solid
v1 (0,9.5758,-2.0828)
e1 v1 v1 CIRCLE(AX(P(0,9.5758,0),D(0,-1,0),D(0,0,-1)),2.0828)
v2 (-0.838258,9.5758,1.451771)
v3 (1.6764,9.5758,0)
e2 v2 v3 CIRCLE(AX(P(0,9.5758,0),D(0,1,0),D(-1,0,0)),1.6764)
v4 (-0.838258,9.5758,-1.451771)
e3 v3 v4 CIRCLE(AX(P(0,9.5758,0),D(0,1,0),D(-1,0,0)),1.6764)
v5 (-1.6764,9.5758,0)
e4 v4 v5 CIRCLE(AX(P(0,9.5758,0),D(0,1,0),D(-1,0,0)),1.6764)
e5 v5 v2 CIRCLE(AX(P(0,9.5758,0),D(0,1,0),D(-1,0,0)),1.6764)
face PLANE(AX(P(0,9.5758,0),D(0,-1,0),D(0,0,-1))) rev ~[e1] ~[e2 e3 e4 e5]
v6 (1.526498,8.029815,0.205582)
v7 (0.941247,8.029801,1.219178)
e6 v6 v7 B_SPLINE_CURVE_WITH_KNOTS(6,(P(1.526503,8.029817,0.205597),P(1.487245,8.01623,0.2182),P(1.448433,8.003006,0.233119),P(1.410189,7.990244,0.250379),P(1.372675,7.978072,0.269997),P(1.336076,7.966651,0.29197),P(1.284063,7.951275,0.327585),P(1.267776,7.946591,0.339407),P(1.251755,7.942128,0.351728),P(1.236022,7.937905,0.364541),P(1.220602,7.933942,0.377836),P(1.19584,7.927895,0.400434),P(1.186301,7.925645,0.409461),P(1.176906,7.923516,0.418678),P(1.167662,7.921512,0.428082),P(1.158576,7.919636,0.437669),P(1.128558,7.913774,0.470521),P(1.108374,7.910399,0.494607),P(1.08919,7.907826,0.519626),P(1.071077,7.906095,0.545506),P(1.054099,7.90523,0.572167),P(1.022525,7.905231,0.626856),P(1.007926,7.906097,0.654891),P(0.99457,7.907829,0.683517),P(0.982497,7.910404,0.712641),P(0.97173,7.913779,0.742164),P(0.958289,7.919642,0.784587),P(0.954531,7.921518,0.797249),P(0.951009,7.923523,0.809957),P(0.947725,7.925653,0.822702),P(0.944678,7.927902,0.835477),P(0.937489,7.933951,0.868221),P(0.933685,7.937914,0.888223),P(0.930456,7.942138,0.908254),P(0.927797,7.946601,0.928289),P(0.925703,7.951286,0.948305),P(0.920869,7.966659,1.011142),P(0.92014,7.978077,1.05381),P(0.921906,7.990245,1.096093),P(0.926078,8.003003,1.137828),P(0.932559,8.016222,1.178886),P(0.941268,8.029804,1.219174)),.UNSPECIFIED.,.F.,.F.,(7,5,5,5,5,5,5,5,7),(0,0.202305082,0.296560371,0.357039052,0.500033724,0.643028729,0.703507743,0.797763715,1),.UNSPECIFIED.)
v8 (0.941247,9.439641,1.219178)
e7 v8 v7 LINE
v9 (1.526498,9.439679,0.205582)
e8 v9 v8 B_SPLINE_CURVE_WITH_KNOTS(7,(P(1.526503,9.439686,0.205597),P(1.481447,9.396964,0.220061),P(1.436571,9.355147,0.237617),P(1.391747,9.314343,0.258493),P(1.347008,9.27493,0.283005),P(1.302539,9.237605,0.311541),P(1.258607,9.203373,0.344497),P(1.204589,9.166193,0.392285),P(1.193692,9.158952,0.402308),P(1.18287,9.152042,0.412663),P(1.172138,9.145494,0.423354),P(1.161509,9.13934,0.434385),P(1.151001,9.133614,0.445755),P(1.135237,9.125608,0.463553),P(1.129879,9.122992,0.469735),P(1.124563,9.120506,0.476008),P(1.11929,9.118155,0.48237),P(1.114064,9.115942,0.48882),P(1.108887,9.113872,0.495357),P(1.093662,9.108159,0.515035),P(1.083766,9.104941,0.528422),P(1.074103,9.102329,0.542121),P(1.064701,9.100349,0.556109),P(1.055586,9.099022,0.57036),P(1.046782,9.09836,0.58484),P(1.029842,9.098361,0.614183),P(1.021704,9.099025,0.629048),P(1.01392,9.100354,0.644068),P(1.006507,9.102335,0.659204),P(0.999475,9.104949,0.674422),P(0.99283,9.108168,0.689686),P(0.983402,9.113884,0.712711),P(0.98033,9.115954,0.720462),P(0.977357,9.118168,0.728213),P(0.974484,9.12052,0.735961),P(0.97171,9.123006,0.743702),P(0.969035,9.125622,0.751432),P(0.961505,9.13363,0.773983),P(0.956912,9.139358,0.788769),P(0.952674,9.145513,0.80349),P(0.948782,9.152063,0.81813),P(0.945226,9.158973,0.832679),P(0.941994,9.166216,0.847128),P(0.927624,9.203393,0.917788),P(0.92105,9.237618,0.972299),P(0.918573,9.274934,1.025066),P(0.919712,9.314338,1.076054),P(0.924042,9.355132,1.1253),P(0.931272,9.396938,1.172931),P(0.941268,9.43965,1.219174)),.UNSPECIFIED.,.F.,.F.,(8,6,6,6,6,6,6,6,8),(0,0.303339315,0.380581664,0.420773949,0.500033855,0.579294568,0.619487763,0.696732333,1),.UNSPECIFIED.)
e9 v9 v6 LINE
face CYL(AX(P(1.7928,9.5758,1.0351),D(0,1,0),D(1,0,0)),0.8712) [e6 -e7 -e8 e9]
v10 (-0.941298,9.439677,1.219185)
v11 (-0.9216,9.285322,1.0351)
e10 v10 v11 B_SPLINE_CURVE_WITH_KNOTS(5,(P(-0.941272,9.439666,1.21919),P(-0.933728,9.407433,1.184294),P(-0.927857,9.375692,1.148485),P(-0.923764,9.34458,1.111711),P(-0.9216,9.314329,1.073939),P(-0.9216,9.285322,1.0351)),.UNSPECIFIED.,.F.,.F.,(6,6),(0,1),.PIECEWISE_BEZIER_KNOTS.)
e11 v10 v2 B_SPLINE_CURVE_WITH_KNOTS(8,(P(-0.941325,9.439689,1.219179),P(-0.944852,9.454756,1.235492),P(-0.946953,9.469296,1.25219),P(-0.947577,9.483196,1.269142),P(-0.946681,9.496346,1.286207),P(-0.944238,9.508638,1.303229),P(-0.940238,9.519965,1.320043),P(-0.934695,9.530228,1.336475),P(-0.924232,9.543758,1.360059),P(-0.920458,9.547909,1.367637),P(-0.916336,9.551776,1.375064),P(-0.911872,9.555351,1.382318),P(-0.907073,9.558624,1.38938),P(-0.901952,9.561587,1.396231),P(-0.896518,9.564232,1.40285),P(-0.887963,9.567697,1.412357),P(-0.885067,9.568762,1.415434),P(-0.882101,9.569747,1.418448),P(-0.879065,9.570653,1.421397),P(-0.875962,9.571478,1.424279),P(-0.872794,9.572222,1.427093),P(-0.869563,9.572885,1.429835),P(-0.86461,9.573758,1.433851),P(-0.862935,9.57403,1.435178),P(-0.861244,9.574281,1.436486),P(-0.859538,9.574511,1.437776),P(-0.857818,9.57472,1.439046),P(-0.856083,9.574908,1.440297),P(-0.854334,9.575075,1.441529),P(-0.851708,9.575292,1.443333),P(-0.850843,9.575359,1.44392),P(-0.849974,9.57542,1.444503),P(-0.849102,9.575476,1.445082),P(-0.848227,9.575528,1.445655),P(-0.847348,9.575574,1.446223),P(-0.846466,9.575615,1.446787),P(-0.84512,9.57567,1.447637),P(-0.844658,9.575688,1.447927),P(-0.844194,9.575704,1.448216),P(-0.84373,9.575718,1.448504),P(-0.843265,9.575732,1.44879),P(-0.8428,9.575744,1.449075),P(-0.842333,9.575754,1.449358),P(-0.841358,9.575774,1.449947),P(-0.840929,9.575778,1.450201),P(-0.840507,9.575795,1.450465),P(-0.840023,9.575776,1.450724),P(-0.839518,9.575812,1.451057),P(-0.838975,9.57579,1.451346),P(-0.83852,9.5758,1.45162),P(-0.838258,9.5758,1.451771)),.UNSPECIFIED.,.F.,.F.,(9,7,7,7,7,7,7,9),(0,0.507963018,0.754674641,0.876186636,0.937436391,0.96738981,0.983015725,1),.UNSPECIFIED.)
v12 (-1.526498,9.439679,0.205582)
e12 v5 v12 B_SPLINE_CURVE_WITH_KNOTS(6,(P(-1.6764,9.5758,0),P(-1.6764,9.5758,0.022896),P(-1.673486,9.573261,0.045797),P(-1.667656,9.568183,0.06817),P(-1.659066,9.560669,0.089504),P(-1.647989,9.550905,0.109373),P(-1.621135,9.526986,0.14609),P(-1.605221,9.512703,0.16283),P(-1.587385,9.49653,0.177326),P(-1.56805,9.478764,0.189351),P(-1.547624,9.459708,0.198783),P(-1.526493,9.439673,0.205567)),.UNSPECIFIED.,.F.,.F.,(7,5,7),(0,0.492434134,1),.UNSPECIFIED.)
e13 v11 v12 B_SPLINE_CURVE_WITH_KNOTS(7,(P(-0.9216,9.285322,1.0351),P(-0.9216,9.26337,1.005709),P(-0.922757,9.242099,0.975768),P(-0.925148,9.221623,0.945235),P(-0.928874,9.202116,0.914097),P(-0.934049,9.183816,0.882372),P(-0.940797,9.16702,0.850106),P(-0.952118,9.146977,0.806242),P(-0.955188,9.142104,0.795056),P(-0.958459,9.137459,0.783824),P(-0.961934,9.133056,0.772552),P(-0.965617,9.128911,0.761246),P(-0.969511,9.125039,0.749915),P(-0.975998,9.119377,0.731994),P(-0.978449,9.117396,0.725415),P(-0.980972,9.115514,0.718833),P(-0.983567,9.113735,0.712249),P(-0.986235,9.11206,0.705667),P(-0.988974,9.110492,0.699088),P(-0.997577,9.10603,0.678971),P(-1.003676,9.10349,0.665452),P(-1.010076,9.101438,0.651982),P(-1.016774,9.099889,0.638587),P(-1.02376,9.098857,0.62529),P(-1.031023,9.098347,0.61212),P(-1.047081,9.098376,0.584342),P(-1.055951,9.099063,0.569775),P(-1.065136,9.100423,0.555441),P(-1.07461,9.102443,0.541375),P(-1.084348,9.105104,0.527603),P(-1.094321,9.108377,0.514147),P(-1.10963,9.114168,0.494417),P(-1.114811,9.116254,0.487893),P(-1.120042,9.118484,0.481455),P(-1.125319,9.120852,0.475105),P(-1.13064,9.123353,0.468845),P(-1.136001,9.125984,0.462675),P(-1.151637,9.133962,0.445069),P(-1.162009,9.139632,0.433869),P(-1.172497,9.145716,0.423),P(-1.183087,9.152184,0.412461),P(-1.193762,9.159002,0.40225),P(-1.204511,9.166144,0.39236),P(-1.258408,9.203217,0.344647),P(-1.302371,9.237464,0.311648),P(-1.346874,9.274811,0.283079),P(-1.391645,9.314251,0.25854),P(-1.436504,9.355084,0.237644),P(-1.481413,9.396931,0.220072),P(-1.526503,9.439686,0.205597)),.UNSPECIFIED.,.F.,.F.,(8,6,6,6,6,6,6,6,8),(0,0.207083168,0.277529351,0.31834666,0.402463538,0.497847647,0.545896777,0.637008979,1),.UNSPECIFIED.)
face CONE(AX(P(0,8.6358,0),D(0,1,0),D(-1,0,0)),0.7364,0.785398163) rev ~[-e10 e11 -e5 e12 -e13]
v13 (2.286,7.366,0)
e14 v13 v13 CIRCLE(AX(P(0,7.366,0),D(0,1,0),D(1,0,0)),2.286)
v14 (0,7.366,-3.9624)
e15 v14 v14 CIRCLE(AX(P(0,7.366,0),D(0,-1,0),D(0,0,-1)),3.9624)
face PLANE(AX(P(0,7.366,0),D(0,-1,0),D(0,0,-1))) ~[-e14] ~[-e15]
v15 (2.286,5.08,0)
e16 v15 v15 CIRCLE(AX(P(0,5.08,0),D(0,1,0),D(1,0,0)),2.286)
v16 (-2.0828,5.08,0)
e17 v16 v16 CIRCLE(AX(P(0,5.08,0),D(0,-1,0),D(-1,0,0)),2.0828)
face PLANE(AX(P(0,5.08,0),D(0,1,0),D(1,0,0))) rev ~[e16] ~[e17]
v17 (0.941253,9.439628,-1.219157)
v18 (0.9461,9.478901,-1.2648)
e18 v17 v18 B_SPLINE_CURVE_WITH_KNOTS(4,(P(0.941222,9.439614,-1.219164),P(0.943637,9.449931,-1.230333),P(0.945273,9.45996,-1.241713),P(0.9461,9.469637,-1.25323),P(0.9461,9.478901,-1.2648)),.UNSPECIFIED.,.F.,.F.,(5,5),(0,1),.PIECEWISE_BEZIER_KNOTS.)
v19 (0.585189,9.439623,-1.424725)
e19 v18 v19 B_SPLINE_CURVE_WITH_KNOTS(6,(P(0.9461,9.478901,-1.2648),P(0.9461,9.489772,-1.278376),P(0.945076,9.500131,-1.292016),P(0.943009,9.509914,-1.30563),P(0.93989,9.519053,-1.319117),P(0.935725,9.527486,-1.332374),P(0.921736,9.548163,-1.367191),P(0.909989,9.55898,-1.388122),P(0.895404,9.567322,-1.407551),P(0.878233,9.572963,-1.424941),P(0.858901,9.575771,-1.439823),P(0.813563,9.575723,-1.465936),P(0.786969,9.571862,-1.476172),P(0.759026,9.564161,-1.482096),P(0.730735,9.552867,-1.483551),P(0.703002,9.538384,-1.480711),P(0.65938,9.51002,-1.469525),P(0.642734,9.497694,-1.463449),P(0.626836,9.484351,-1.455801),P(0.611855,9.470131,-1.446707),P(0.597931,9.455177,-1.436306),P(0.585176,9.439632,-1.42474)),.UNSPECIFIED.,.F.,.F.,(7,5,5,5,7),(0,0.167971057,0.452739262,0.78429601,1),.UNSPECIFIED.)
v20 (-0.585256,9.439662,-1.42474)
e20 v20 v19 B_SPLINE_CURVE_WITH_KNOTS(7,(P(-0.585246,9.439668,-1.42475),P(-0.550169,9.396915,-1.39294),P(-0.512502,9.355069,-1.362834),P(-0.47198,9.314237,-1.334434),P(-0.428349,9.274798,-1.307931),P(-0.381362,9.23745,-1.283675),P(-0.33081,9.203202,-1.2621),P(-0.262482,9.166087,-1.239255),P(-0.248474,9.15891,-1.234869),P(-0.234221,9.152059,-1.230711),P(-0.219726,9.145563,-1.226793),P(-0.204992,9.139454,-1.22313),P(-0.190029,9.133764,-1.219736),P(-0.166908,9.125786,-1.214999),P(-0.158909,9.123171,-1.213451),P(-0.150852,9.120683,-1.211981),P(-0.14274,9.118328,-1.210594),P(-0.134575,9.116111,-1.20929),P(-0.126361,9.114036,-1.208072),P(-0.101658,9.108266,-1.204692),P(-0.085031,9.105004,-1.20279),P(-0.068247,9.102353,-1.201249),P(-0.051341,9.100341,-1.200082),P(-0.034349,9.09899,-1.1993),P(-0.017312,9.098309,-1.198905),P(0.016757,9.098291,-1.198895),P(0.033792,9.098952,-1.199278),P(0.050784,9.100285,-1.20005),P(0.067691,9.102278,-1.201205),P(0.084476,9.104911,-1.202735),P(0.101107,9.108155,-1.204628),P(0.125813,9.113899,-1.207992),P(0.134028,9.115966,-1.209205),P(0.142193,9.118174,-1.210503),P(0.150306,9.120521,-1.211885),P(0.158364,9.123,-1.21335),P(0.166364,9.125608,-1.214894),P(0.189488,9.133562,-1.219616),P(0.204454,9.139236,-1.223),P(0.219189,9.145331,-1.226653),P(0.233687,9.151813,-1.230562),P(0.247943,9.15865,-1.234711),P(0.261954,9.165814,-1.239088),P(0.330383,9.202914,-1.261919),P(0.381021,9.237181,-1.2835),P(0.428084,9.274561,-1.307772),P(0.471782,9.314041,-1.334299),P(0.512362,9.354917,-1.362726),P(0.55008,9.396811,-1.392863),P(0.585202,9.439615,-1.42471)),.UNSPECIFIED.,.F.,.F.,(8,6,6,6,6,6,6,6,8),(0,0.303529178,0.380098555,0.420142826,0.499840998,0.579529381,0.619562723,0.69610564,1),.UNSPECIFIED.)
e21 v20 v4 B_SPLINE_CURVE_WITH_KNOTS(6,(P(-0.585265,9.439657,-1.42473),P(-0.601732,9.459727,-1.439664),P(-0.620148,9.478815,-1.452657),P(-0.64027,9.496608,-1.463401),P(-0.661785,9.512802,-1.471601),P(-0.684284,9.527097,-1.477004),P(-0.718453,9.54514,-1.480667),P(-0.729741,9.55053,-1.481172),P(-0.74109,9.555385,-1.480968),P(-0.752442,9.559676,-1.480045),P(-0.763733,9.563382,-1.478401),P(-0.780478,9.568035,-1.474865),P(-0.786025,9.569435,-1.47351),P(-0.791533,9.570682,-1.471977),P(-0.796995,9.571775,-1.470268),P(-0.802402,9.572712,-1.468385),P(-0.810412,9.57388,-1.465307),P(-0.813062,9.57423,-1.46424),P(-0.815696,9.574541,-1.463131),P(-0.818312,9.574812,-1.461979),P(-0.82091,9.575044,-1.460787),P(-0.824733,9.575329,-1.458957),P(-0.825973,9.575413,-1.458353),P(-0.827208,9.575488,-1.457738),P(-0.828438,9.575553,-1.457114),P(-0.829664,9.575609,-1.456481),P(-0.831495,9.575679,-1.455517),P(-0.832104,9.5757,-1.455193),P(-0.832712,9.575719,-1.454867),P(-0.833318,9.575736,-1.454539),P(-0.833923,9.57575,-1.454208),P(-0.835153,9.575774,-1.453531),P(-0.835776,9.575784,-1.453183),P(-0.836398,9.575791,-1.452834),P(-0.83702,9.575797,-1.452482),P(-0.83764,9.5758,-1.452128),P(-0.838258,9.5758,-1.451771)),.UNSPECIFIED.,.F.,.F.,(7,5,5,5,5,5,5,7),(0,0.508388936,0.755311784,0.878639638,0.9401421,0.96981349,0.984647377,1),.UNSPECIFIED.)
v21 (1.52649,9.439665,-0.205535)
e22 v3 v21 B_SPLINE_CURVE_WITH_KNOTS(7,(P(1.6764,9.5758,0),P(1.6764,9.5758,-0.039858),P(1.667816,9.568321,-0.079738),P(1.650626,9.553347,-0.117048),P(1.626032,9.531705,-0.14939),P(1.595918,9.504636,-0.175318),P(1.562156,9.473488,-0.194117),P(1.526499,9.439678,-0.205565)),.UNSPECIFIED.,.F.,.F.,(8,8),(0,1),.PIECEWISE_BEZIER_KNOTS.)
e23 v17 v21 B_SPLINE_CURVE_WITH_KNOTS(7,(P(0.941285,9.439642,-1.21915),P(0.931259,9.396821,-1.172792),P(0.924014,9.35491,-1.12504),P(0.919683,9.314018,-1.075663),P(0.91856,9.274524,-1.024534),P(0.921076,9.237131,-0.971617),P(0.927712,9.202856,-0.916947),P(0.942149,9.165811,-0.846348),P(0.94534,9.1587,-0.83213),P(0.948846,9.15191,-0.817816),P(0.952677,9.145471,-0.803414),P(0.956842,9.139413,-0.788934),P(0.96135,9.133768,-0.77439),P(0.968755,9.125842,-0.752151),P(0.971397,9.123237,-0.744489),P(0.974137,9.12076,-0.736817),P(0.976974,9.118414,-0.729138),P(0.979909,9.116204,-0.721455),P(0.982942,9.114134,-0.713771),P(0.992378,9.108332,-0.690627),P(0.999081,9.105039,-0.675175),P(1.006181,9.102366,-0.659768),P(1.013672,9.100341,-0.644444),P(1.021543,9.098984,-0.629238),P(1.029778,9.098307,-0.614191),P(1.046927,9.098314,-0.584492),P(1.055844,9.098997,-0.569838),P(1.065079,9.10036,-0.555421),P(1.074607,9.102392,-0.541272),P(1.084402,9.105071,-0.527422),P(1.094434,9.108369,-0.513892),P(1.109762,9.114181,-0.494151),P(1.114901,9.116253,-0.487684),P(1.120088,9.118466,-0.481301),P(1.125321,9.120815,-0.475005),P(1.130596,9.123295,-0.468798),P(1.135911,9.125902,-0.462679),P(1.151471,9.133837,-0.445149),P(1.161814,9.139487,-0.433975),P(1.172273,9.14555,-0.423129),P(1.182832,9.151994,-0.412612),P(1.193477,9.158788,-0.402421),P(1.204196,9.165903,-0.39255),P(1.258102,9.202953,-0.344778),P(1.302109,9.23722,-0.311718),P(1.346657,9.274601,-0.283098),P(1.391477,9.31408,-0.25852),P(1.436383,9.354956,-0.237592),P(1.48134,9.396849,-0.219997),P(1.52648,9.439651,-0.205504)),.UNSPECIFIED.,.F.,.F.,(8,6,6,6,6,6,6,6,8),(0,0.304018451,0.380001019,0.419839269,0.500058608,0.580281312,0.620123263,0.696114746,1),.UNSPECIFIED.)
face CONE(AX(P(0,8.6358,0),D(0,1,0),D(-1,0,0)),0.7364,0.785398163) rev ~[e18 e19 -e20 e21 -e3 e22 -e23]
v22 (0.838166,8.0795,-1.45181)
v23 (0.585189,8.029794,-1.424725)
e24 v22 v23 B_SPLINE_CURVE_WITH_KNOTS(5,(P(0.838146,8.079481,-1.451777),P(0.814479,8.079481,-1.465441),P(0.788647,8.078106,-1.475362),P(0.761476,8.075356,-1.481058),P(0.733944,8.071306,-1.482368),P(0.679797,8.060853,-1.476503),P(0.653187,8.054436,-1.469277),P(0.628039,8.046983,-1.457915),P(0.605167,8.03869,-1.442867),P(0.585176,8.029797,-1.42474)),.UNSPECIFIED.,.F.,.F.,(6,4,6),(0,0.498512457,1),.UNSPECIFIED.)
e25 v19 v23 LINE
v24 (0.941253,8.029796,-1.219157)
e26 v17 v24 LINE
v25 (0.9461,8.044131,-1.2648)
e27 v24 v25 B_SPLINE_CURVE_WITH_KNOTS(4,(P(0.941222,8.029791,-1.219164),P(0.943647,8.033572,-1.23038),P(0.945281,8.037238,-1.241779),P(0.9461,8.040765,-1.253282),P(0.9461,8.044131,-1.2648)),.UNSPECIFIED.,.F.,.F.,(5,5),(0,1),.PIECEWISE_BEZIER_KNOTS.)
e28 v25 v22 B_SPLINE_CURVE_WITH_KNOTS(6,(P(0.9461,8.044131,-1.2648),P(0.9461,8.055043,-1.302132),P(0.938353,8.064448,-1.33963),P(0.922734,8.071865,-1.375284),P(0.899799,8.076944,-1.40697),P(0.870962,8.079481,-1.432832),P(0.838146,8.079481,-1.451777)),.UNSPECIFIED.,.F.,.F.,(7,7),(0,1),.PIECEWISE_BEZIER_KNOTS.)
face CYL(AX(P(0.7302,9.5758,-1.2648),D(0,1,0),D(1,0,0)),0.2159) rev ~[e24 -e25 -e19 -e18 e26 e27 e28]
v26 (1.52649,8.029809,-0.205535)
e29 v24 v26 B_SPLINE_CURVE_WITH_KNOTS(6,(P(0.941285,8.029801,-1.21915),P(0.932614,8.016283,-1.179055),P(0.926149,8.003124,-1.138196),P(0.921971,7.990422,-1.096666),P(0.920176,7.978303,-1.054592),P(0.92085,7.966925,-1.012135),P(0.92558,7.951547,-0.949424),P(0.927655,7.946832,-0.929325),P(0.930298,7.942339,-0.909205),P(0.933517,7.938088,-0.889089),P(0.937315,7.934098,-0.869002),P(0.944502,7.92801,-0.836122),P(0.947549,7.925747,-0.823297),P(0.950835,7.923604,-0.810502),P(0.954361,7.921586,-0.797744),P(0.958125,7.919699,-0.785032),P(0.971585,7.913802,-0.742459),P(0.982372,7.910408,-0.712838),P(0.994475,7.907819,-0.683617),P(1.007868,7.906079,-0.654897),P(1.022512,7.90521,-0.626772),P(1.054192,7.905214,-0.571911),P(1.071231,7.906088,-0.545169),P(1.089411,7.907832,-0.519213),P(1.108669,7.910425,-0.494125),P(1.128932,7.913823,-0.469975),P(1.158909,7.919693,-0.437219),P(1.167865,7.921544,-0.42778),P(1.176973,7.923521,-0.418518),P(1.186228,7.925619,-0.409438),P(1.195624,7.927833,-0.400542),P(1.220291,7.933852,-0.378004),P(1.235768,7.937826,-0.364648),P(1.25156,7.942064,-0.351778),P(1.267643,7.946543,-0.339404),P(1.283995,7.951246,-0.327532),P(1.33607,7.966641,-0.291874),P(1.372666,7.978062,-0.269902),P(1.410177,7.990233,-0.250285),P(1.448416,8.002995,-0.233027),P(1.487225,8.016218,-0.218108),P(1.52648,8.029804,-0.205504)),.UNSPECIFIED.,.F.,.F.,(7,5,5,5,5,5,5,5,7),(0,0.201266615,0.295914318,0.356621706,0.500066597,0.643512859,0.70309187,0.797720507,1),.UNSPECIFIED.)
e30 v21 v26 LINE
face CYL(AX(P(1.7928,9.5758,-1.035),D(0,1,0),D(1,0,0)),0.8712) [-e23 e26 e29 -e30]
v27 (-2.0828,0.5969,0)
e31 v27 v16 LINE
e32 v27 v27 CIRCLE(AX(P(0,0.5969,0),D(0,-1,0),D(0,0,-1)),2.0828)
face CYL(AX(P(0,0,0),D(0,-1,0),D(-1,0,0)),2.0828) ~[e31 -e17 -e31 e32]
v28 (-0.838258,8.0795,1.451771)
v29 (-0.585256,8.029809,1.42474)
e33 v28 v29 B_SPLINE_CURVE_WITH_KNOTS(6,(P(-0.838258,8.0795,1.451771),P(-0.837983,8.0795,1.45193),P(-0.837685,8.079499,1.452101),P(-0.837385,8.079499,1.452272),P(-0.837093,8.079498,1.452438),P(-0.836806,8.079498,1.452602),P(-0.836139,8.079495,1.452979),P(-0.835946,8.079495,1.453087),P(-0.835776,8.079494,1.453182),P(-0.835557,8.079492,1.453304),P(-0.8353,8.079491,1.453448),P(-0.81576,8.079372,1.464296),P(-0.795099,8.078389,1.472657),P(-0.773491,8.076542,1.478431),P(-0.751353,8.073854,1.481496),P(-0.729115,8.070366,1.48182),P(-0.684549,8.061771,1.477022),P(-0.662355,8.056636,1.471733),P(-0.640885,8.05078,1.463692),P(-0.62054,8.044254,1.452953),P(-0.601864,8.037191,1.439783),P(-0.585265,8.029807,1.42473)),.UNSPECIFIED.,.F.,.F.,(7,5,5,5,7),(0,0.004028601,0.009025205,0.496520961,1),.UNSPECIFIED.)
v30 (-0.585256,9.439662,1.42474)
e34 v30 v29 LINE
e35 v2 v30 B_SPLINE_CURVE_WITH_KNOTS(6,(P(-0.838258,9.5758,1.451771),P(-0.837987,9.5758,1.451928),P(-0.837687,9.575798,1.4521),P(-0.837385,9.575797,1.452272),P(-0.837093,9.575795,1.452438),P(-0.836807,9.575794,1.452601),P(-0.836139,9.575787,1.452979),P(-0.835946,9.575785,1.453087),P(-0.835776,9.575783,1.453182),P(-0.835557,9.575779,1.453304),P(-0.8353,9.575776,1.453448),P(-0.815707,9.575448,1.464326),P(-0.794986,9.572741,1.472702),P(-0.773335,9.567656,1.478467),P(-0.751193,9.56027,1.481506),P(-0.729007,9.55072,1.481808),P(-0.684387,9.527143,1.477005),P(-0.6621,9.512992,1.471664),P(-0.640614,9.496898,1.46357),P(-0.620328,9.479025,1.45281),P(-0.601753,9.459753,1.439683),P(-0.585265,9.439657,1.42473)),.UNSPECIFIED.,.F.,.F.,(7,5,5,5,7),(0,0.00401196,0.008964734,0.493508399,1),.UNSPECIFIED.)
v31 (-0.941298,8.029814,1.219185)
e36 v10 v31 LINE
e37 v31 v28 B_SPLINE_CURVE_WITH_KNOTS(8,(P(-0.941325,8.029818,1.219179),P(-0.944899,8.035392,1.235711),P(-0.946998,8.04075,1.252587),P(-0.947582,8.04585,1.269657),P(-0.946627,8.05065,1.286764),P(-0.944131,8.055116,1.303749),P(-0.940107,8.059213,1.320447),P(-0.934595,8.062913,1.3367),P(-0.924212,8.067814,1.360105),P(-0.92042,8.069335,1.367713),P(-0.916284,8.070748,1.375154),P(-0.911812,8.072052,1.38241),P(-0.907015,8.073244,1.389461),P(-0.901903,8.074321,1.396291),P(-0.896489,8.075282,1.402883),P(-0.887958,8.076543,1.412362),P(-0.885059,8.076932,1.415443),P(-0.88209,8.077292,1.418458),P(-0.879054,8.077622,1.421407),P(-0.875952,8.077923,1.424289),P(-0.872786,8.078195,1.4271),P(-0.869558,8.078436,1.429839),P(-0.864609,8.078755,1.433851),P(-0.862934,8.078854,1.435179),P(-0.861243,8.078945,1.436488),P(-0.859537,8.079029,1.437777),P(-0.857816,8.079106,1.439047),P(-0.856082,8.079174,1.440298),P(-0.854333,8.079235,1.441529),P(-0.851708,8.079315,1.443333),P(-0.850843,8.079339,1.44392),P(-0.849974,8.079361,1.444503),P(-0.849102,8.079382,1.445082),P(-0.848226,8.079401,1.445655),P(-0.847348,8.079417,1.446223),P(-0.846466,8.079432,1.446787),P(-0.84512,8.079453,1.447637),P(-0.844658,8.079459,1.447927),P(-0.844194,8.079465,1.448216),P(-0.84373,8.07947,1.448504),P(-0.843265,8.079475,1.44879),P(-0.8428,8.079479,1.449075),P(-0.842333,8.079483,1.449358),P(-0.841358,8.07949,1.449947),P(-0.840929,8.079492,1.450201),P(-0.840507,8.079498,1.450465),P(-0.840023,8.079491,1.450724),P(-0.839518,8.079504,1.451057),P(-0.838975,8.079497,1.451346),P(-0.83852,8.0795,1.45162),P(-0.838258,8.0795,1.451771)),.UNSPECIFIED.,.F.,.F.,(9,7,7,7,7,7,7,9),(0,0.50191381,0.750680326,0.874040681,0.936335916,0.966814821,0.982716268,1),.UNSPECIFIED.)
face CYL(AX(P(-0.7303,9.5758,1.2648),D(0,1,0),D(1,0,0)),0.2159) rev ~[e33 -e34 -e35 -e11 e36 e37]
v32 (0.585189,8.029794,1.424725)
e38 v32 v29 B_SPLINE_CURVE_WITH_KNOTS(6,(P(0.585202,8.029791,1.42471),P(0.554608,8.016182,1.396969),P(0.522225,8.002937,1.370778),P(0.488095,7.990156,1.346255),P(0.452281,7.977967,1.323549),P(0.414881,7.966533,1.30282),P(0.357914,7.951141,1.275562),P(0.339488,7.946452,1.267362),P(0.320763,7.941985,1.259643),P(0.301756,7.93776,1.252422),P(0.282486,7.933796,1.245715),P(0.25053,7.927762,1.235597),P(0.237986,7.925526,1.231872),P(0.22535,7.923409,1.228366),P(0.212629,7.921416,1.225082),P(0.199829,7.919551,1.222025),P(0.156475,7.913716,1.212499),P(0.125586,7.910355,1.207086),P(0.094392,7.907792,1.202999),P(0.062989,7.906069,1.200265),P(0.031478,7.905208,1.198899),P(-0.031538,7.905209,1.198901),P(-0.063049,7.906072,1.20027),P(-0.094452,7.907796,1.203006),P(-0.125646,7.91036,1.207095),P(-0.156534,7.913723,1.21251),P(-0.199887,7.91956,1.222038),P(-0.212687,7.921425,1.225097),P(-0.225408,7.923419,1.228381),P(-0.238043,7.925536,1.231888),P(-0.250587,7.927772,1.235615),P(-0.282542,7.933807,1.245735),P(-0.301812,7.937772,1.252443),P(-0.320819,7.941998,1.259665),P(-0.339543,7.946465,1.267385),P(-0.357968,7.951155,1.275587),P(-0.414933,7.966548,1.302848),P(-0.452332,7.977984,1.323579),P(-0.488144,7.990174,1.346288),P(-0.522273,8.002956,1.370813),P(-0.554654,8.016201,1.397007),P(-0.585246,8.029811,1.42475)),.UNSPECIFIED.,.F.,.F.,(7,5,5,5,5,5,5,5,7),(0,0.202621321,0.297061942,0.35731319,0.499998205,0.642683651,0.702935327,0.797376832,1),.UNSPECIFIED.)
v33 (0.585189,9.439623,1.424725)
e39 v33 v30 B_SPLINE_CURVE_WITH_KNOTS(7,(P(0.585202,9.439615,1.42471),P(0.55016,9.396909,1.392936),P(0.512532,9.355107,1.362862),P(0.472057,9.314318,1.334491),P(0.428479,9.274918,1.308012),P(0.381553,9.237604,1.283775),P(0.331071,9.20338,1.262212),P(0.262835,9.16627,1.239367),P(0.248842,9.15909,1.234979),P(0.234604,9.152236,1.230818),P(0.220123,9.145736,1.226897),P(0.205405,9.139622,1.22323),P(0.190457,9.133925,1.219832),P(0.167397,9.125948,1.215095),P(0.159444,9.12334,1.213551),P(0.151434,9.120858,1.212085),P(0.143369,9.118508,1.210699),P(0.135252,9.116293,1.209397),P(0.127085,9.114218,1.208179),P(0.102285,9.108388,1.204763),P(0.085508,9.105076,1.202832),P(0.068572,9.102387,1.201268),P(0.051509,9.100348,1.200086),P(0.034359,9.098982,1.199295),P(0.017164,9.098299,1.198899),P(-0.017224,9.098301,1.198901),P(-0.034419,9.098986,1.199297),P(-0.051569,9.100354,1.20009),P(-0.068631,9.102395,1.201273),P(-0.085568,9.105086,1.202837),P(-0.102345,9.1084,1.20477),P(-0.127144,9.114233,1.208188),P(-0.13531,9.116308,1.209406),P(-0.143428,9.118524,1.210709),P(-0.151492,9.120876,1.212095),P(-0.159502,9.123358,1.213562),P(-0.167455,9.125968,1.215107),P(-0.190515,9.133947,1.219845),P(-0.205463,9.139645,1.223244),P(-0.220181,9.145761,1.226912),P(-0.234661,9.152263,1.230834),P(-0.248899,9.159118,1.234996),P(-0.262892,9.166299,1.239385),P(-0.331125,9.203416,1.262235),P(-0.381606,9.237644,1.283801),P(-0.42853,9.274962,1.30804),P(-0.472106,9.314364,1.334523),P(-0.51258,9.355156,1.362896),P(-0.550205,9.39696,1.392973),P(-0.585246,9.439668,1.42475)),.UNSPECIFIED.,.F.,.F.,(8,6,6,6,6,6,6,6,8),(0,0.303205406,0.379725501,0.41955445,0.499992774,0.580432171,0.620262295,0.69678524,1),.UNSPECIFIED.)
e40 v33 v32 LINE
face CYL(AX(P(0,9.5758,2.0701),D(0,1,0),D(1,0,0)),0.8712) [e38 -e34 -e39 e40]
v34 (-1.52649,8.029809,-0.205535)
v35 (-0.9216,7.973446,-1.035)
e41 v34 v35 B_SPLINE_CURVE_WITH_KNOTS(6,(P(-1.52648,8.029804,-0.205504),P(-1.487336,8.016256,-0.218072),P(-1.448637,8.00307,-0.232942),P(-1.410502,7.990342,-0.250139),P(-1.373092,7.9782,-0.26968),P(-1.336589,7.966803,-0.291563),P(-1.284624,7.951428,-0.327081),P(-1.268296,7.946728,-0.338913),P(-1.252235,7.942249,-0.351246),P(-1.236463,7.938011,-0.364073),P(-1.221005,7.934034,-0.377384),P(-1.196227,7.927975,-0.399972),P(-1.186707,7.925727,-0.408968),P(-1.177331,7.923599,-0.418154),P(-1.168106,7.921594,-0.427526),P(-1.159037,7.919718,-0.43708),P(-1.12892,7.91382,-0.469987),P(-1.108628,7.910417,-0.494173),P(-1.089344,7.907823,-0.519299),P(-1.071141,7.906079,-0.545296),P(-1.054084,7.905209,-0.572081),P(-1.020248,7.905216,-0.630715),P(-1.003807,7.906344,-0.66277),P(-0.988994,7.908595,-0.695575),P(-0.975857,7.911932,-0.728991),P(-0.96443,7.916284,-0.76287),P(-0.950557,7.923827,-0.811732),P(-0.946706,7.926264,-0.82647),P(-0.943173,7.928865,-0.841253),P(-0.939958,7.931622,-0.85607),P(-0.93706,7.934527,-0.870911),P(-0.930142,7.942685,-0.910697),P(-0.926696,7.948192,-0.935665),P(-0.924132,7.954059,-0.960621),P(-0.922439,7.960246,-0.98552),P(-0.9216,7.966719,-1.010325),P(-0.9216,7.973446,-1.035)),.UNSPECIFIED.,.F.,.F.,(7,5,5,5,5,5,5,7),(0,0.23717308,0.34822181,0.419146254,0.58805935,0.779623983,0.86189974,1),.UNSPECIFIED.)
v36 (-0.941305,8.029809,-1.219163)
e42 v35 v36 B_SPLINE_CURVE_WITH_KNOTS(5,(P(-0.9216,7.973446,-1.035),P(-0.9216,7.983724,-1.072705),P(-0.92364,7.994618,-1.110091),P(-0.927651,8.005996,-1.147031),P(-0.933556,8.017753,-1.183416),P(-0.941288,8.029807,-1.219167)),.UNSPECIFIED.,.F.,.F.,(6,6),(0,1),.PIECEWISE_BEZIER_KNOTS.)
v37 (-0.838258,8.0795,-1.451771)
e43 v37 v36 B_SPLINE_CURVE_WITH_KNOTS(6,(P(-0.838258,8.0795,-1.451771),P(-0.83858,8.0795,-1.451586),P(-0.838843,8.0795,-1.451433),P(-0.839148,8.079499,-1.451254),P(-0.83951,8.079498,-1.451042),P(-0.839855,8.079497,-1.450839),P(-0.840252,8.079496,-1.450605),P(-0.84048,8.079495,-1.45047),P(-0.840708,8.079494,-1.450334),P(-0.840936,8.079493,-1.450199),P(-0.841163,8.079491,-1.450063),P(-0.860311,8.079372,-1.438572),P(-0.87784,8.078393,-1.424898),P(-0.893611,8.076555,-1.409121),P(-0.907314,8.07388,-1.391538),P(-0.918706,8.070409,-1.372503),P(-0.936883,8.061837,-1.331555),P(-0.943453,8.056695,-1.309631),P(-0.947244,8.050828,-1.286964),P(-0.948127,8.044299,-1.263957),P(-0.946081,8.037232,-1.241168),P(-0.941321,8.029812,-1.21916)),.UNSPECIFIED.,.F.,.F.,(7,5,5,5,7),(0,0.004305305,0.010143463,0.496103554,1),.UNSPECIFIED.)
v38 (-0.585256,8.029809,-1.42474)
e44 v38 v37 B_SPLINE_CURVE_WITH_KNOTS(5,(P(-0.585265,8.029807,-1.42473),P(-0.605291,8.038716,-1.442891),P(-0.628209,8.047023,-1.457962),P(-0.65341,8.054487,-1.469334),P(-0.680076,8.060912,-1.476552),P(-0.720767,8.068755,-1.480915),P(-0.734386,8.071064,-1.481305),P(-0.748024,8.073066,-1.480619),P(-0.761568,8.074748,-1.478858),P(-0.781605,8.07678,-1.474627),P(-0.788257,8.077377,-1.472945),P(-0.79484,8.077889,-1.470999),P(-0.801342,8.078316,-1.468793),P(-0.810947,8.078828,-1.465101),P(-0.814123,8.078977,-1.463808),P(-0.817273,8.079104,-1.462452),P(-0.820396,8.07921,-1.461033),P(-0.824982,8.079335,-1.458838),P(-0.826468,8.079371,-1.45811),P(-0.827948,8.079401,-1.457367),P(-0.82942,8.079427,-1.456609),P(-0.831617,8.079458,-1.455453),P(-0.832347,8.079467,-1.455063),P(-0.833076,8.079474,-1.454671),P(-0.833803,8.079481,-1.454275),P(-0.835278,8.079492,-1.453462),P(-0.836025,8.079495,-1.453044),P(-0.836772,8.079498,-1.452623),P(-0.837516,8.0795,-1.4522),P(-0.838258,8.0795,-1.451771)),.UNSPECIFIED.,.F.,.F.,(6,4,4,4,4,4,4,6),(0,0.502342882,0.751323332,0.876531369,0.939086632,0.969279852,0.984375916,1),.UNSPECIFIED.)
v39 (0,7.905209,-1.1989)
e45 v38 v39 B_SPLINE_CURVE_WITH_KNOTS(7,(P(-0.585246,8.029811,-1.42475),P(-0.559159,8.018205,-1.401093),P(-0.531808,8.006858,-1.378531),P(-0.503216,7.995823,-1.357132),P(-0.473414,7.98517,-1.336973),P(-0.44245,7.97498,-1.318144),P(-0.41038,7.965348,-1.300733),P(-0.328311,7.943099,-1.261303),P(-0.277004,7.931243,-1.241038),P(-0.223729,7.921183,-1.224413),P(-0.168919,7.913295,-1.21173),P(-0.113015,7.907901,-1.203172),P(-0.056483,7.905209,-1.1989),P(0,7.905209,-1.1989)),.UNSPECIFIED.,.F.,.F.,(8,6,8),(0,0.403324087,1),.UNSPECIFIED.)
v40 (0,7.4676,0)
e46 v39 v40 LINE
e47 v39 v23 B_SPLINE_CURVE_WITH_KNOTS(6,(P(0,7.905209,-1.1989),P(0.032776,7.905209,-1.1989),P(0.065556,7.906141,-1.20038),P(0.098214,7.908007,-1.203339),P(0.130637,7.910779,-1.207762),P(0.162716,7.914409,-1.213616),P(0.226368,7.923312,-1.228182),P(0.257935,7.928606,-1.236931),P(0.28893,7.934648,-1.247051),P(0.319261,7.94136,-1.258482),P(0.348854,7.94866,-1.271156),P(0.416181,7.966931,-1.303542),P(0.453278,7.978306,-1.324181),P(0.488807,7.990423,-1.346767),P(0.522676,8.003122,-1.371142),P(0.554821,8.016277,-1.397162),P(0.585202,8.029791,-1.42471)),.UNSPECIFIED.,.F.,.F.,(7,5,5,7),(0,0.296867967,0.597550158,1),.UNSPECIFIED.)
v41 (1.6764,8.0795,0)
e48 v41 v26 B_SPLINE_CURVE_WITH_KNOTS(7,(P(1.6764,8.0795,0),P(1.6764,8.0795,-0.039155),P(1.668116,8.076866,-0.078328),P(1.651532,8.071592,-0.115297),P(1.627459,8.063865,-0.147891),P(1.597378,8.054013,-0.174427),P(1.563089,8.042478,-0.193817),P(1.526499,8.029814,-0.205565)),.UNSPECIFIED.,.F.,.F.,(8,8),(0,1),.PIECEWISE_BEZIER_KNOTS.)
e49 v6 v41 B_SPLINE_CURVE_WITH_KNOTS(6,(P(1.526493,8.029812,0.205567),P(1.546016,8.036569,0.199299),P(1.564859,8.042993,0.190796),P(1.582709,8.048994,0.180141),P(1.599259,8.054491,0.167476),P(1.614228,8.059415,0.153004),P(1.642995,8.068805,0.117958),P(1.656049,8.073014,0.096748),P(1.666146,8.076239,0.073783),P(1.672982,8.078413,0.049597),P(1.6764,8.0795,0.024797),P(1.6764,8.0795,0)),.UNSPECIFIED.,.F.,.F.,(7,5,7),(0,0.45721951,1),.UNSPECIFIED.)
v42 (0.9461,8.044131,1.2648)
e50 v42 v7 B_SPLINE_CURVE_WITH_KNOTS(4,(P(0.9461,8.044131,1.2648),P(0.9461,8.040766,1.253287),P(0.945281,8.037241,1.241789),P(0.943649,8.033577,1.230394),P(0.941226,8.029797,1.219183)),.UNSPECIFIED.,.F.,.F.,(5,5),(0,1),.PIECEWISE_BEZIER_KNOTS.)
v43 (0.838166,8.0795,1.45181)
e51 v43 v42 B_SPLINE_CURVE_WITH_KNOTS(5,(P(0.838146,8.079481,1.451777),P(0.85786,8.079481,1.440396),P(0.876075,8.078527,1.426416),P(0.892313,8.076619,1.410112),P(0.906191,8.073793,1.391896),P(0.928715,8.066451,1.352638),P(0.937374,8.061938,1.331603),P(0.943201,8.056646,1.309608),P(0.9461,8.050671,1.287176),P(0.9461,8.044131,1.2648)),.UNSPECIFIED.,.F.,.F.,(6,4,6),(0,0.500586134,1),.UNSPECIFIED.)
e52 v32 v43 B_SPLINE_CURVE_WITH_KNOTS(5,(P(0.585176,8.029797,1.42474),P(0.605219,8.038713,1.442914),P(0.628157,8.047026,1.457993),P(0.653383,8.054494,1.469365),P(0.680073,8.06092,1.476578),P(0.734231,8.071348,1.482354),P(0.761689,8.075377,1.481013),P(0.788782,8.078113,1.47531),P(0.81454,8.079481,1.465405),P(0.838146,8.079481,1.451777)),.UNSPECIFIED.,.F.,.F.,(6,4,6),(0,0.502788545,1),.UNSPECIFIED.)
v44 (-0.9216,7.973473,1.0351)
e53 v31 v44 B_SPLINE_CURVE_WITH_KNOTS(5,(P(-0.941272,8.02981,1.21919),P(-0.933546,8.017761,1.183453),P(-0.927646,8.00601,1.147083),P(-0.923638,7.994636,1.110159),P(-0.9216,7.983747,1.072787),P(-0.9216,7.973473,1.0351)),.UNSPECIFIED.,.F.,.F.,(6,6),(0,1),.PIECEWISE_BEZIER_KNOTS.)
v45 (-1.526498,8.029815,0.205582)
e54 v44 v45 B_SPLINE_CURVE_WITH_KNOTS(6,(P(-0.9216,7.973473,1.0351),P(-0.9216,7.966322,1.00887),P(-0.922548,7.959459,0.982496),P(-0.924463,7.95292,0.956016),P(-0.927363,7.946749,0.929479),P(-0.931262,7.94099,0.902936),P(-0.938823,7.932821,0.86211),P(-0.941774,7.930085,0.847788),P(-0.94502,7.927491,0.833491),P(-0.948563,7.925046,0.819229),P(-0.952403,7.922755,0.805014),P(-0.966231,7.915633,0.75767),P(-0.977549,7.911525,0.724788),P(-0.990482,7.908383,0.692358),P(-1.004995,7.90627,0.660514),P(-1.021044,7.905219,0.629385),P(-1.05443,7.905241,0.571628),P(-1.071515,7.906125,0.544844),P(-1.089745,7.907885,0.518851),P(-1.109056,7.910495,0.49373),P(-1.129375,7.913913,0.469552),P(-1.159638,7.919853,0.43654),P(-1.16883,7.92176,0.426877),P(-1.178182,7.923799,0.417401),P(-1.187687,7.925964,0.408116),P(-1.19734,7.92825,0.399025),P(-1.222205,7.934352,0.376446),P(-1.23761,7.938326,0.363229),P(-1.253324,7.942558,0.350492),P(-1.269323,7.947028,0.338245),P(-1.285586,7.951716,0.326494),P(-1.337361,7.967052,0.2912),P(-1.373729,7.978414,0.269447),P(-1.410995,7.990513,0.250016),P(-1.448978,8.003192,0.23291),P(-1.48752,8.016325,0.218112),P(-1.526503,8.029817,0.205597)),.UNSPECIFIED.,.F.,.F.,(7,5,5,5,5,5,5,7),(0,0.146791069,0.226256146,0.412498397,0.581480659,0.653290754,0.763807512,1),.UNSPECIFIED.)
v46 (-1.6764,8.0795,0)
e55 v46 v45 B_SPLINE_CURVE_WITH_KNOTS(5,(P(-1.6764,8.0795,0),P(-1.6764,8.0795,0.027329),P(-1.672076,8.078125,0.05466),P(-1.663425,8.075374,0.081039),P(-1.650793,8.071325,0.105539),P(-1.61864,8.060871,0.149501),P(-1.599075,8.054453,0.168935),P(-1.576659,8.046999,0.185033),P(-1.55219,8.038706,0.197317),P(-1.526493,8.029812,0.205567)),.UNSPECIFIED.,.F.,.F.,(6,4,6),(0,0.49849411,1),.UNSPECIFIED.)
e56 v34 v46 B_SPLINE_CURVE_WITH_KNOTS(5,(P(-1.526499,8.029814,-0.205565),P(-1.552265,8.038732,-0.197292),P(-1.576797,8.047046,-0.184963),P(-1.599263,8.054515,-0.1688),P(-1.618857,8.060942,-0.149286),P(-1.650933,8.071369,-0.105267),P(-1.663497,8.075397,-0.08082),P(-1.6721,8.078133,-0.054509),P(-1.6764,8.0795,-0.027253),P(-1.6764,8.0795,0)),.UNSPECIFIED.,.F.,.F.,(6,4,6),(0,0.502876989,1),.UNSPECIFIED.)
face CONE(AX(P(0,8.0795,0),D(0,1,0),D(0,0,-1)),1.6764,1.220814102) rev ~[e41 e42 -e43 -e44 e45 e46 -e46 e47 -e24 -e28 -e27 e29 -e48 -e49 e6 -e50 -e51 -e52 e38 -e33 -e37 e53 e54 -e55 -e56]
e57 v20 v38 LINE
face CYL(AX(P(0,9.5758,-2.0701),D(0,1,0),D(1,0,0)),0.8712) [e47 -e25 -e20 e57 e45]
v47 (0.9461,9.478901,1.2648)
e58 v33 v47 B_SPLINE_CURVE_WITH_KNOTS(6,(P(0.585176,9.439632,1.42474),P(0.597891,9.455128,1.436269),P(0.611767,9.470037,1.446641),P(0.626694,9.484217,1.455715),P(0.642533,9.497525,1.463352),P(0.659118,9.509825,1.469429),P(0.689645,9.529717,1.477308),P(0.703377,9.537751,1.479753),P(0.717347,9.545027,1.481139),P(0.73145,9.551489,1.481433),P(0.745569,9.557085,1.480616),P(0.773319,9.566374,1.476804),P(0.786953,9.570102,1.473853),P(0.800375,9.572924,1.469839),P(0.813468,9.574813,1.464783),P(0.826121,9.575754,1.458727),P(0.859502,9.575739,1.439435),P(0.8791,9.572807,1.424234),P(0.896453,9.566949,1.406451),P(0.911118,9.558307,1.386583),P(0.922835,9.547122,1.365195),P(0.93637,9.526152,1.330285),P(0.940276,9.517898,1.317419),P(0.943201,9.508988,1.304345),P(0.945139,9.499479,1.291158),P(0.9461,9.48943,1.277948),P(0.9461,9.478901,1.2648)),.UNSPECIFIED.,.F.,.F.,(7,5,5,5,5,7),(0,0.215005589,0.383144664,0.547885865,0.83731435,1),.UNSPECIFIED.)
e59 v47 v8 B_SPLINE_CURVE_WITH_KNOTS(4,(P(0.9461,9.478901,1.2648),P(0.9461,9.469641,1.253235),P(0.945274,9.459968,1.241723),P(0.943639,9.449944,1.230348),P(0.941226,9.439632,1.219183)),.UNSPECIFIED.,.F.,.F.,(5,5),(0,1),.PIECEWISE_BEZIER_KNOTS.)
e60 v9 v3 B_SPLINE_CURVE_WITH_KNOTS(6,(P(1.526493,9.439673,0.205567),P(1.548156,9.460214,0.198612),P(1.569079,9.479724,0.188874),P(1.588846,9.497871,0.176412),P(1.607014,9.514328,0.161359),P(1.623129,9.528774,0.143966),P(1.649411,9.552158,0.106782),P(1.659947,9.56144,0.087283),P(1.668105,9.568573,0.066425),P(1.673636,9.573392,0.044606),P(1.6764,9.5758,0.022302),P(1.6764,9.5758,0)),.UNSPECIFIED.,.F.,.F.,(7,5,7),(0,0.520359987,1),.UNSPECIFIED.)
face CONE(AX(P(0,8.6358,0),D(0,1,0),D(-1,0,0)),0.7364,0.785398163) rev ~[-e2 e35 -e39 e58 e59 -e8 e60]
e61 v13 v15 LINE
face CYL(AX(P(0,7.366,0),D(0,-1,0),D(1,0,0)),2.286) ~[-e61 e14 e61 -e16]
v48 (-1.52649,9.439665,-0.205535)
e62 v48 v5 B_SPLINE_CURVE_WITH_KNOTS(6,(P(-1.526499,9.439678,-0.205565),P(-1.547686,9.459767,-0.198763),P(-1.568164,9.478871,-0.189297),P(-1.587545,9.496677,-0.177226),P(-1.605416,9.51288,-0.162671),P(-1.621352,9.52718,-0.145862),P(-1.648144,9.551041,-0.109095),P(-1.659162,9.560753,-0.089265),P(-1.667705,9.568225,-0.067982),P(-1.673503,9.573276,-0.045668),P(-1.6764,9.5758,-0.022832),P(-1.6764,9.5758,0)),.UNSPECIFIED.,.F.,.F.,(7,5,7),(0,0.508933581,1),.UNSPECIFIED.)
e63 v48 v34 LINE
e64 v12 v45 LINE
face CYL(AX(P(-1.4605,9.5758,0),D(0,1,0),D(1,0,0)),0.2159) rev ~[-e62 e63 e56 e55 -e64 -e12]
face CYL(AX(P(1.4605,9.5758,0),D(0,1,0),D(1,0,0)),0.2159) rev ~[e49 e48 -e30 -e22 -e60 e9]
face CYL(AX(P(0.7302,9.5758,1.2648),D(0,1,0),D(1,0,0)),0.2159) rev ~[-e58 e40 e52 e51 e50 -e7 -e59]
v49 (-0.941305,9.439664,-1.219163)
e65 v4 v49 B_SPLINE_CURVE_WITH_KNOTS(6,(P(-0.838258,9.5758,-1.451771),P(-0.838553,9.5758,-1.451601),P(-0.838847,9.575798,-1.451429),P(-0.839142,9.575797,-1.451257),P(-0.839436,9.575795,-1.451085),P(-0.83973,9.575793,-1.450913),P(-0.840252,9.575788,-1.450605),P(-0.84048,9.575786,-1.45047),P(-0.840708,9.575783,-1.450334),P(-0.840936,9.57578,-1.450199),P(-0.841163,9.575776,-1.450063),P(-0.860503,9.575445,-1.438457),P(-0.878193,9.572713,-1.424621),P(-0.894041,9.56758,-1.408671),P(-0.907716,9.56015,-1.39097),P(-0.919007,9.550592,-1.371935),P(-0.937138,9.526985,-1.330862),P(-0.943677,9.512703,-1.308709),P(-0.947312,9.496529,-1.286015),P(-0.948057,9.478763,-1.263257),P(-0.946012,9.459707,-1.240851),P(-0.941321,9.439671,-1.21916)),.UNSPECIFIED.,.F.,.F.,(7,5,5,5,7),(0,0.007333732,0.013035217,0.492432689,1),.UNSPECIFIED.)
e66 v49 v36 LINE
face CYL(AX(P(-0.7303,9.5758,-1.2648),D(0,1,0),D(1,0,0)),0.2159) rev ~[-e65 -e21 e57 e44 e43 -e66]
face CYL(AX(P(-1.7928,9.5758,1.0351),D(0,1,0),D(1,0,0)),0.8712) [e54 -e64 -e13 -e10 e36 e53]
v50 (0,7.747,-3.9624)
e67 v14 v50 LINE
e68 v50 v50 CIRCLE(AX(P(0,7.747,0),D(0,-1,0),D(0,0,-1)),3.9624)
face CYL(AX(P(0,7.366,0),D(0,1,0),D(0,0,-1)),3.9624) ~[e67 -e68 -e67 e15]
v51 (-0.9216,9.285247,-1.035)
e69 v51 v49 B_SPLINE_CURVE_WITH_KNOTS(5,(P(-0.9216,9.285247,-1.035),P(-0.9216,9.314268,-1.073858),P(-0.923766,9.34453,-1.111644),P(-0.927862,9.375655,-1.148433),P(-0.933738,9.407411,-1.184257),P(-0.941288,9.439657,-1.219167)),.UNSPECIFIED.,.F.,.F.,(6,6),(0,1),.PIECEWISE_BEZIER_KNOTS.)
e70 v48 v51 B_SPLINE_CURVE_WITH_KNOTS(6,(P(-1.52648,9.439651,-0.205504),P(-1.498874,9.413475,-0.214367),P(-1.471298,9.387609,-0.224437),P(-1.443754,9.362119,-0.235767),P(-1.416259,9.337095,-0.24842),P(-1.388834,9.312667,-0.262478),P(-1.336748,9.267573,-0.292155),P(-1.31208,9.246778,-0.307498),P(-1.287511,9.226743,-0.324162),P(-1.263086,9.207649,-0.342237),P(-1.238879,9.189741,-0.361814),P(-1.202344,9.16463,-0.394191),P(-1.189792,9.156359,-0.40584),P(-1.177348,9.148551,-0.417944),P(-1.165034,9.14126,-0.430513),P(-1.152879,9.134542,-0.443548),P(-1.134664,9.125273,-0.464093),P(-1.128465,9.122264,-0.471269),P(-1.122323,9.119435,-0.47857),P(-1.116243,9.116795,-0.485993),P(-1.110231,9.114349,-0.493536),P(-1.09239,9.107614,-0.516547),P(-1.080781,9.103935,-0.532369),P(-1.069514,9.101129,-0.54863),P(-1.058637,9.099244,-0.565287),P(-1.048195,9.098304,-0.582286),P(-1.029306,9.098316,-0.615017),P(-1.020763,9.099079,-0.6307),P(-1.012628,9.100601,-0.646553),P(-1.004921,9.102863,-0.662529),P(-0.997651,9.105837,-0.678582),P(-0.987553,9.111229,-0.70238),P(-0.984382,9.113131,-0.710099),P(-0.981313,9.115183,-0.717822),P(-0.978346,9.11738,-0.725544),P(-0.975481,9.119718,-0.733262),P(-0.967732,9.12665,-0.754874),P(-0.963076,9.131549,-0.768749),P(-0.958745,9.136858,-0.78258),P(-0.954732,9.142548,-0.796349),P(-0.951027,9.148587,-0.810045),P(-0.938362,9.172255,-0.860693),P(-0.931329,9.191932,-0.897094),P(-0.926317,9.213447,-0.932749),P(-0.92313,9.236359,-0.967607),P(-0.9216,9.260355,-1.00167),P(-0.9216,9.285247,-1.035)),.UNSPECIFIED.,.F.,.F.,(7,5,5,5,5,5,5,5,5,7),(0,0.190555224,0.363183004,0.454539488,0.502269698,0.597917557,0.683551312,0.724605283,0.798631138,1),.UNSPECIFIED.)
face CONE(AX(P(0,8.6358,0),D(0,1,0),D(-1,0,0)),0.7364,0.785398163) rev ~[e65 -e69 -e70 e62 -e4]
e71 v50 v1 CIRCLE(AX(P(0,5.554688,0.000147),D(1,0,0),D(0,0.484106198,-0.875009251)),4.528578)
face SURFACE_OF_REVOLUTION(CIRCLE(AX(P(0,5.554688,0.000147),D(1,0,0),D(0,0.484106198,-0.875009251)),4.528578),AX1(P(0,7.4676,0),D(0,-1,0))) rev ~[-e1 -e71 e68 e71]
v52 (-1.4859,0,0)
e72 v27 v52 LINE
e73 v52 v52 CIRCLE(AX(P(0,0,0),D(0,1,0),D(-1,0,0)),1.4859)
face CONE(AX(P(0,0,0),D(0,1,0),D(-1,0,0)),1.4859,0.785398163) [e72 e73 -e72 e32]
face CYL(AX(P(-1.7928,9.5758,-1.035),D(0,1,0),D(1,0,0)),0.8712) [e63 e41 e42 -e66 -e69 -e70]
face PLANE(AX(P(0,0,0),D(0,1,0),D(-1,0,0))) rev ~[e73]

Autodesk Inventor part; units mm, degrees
ref_plane "YZ Plane" through (0, 0, 0) normal (1, 0, 0) x (0, 1, 0)
ref_plane "XZ Plane" through (0, 0, 0) normal (0, 1, 0) x (-1, 0, 0)
ref_plane "XY Plane" through (0, 0, 0) normal (0, 0, 1) x (1, 0, 0)
sketch "Sketch1" plane through (0, 0, 0) normal (0, 1, 0) x (-1, 0, 0)
  circle A0 centre (0, 0) radius 2.0828
  dimension "d4" = 4.1656
extrude "Body" add sketch "Sketch1" along normal blind 7.366
sketch "Sketch2" plane through (0, 0, 0) normal (1, 0, 0) x (0, 1, 0)
  line L0 (7.366, -2.0828) -> (7.366, 2.0828) projected
  line L1 (7.366, 0) -> (7.366, -3.9624)
  line L2 (7.366, -3.9624) -> (7.747, -3.9624)
  arc A0 (7.747, -3.9624) -> (9.5758, -2.0828) centre (5.5548, 0) ccw
  line L3 (9.5758, -2.0828) -> (9.5758, -1.6764)
  line L4 (9.5758, -1.6764) -> (8.0795, -1.6764)
  line L5 (8.0795, -1.6764) -> (7.4676, 0)
  line L6 (7.4676, 0) -> (7.366, 0)
  point P0 (0, 0)
  dimension "d5" = 3.9624
  dimension "d6" = 0.381
  dimension "d13" = 0.1016
  dimension "d14" = 2.0828
  dimension "d15" = 2.2098
  dimension "d16" = 0
  dimension "d17" = 1.6764
  dimension "d57" = 20.053
revolve "Head" add sketch "Sketch2" angle 360 about axis through (0, 7.4676, 0) along (0, -1, 0)
sketch "Sketch3" plane through (0, 9.5758, 0) normal (0, 1, 0) x (1, 0, 0)
  circle A0 centre (0, 0) radius 1.6764 projected
  line L0 (0.7302, -1.2648) -> (-0.7303, -1.2648) construction
  line L1 (-0.7303, -1.2648) -> (-1.4605, 0) construction
  line L2 (-1.4605, 0) -> (-0.7303, 1.2648) construction
  line L3 (-0.7303, 1.2648) -> (0.7302, 1.2648) construction
  line L4 (0.7302, 1.2648) -> (1.4605, 0) construction
  line L5 (1.4605, 0) -> (0.7302, -1.2648) construction
  circle A1 centre (-0.7303, -1.2648) radius 0.2159
  circle A2 centre (-1.4605, 0) radius 0.2159
  circle A3 centre (-0.7303, 1.2648) radius 0.2159
  circle A4 centre (0.7302, 1.2648) radius 0.2159
  circle A5 centre (1.4605, 0) radius 0.2159
  circle A6 centre (0.7302, -1.2648) radius 0.2159
  circle A7 centre (0, -2.0701) radius 0.8712
  circle A8 centre (0, 2.0701) radius 0.8712
  circle A9 centre (1.7928, -1.0351) radius 0.8712
  circle A10 centre (-1.7928, 1.035) radius 0.8712
  circle A11 centre (1.7928, 1.035) radius 0.8712
  circle A12 centre (-1.7928, -1.0351) radius 0.8712
  circle A13 centre (0, 0) radius 1.8188
  point P0 (0, 0)
  point P1 (0, 0)
  point P2 (0.9413, 1.2192)
  point P3 (1.5265, 0.2056)
  point P4 (1.5265, -0.2056)
  point P5 (0.9413, -1.2192)
  point P6 (0.5852, -1.4248)
  point P7 (-0.5852, -1.4248)
  point P8 (-0.9413, -1.2192)
  point P9 (-1.5265, -0.2056)
  point P10 (-1.5265, 0.2056)
  point P11 (-0.9413, 1.2192)
  point P12 (-0.5852, 1.4248)
  point P13 (0.5852, 1.4248)
  dimension "d58" = 2.921
  dimension "d59" = 4.1402
  dimension "d62" = 120
extrude "Hex" add sketch "Sketch3" against normal blind 1.778 contours A5 A11 A0 | A0 A11 A13 A9 | A0 A9 A5 | A11 A0 | A0 A11 A13 | A9 A13 A0 | A0 A9 | A11 A4 A0 | A0 A8 A13 A11 | A9 A13 A7 A0 | A0 A6 A9 | A4 A8 A0 | A0 A7 A6 | A8 A0 | A7 A0 | A0 A8 A13 | A7 A13 A0 | A3 A0 A8 | A7 A0 A1 | A0 A10 A13 A8 | A7 A13 A12 A0 | A3 A10 A0 | A0 A12 A1 | A10 A0 A13 | A13 A12 A0 | A10 A0 | A0 A12 | A10 A0 A12 A13 | A10 A2 A0 | A0 A2 A12
sketch "Sketch4" plane through (0, 0, 0) normal (0, 0, 1) x (1, 0, 0)
  line L0 (-0.7364, 8.6358) -> (-1.6764, 9.5758)
  line L1 (0, 9.5758) -> (-0.7364, 8.6358)
  line L2 (0, -10.602) -> (0, 63.6118) projected
  line L3 (-1.5265, 9.5758) -> (-1.5265, 8.0298) projected
  line L4 (-1.5265, 9.5758) -> (-1.5265, 9.5758) projected
  line L5 (-1.5265, 9.5758) -> (-1.5265, 8.0298) projected
  line L6 (-1.6764, 9.5758) -> (-1.5265, 9.5758) projected
  line L7 (-1.6764, 9.5758) -> (0, 9.5758)
  point P0 (0, 0)
  point P1 (-1.6764, 8.0795)
  dimension "d29" = 1.6764
revolve "Head Chamfer" cut sketch "Sketch4" angle 360 about axis through (0, -10, 0) along (0, 1, 0)
sketch "Sketch5" plane through (0, 0, 0) normal (1, 0, 0) x (0, 1, 0)
  line L0 (0, -2.0828) -> (7.366, -2.0828) projected
  line L1 (7.366, 3.9624) -> (7.366, -3.9624) projected
  line L2 (7.366, -2.0828) -> (7.366, 2.0828) projected
  line L3 (0.0745, -2.0828) -> (-0.2261, -2.6035)
  line L4 (-0.2261, -2.6035) -> (-0.3253, -2.6035)
  line L5 (-0.3253, -2.6035) -> (-0.626, -2.0828)
  line L6 (0.0686, -2.6035) -> (-0.7252, -2.6035) construction
  line L7 (-0.626, -2.0828) -> (0.0745, -2.0828)
  line L8 (0, -2.0828) -> (7.366, -2.0828) projected
  point P0 (0, 0)
  dimension "d31" = 30
  dimension "d32" = 60
  dimension "a" = 0.0992
  dimension "d46" = 0.7937
  dimension "d54" = 0.0686
  dimension "d55" = 0.5207
  dimension "d56" = 0.0992
feature "Thread" [suppressed]
sketch "Sketch6" plane through (0, 0, 0) normal (0, 0, 1) x (1, 0, 0)
  line L0 (0, 0) -> (-1.4859, 0)
  line L1 (2.0828, 0) -> (-2.0828, 0) projected
  line L2 (-1.4859, 0) -> (-2.4948, 1.0089)
  line L3 (-2.4948, 1.0089) -> (-2.9651, -1.2188)
  line L4 (-2.9651, -1.2188) -> (-1.4859, -1.2188)
  line L5 (-2.0828, 0) -> (-2.0828, 7.366) projected
  line L6 (-1.4859, -1.2188) -> (-1.4859, 0)
  line L7 (0, -11.613) -> (0, 61.146) projected
  point P0 (-2.0828, 0.5969)
  dimension "d49" = 1.4859
  dimension "d50" = 135
revolve "Tapered End" cut sketch "Sketch6" angle 360 about axis through (0, -10, 0) along (0, 1, 0)
sketch "Sketch8" plane through (0, 0, 0) normal (0, 0, 1) x (1, 0, 0)
  line L0 (-3.9624, 7.366) -> (3.9624, 7.366) projected
  line L1 (0, 7.366) -> (2.286, 7.366)
  line L2 (2.286, 7.366) -> (2.286, 5.08)
  line L3 (2.286, 5.08) -> (0, 5.08)
  line L4 (0, 5.08) -> (0, 7.366)
  point P0 (0, 0)
  dimension "d69" = 2.286
  dimension "d70" = 2.286
revolve "Shoulder" add sketch "Sketch8" angle 360 about axis through (0, 5.08, 0) along (0, 1, 0)
equation "\"d56\" = a"
equation "\"ShoulderLength\" = 2.286"
properties part number "Shoulder Screw 8-32 Shoulder 0.090 Length 0.290" material "VEX Steel"
